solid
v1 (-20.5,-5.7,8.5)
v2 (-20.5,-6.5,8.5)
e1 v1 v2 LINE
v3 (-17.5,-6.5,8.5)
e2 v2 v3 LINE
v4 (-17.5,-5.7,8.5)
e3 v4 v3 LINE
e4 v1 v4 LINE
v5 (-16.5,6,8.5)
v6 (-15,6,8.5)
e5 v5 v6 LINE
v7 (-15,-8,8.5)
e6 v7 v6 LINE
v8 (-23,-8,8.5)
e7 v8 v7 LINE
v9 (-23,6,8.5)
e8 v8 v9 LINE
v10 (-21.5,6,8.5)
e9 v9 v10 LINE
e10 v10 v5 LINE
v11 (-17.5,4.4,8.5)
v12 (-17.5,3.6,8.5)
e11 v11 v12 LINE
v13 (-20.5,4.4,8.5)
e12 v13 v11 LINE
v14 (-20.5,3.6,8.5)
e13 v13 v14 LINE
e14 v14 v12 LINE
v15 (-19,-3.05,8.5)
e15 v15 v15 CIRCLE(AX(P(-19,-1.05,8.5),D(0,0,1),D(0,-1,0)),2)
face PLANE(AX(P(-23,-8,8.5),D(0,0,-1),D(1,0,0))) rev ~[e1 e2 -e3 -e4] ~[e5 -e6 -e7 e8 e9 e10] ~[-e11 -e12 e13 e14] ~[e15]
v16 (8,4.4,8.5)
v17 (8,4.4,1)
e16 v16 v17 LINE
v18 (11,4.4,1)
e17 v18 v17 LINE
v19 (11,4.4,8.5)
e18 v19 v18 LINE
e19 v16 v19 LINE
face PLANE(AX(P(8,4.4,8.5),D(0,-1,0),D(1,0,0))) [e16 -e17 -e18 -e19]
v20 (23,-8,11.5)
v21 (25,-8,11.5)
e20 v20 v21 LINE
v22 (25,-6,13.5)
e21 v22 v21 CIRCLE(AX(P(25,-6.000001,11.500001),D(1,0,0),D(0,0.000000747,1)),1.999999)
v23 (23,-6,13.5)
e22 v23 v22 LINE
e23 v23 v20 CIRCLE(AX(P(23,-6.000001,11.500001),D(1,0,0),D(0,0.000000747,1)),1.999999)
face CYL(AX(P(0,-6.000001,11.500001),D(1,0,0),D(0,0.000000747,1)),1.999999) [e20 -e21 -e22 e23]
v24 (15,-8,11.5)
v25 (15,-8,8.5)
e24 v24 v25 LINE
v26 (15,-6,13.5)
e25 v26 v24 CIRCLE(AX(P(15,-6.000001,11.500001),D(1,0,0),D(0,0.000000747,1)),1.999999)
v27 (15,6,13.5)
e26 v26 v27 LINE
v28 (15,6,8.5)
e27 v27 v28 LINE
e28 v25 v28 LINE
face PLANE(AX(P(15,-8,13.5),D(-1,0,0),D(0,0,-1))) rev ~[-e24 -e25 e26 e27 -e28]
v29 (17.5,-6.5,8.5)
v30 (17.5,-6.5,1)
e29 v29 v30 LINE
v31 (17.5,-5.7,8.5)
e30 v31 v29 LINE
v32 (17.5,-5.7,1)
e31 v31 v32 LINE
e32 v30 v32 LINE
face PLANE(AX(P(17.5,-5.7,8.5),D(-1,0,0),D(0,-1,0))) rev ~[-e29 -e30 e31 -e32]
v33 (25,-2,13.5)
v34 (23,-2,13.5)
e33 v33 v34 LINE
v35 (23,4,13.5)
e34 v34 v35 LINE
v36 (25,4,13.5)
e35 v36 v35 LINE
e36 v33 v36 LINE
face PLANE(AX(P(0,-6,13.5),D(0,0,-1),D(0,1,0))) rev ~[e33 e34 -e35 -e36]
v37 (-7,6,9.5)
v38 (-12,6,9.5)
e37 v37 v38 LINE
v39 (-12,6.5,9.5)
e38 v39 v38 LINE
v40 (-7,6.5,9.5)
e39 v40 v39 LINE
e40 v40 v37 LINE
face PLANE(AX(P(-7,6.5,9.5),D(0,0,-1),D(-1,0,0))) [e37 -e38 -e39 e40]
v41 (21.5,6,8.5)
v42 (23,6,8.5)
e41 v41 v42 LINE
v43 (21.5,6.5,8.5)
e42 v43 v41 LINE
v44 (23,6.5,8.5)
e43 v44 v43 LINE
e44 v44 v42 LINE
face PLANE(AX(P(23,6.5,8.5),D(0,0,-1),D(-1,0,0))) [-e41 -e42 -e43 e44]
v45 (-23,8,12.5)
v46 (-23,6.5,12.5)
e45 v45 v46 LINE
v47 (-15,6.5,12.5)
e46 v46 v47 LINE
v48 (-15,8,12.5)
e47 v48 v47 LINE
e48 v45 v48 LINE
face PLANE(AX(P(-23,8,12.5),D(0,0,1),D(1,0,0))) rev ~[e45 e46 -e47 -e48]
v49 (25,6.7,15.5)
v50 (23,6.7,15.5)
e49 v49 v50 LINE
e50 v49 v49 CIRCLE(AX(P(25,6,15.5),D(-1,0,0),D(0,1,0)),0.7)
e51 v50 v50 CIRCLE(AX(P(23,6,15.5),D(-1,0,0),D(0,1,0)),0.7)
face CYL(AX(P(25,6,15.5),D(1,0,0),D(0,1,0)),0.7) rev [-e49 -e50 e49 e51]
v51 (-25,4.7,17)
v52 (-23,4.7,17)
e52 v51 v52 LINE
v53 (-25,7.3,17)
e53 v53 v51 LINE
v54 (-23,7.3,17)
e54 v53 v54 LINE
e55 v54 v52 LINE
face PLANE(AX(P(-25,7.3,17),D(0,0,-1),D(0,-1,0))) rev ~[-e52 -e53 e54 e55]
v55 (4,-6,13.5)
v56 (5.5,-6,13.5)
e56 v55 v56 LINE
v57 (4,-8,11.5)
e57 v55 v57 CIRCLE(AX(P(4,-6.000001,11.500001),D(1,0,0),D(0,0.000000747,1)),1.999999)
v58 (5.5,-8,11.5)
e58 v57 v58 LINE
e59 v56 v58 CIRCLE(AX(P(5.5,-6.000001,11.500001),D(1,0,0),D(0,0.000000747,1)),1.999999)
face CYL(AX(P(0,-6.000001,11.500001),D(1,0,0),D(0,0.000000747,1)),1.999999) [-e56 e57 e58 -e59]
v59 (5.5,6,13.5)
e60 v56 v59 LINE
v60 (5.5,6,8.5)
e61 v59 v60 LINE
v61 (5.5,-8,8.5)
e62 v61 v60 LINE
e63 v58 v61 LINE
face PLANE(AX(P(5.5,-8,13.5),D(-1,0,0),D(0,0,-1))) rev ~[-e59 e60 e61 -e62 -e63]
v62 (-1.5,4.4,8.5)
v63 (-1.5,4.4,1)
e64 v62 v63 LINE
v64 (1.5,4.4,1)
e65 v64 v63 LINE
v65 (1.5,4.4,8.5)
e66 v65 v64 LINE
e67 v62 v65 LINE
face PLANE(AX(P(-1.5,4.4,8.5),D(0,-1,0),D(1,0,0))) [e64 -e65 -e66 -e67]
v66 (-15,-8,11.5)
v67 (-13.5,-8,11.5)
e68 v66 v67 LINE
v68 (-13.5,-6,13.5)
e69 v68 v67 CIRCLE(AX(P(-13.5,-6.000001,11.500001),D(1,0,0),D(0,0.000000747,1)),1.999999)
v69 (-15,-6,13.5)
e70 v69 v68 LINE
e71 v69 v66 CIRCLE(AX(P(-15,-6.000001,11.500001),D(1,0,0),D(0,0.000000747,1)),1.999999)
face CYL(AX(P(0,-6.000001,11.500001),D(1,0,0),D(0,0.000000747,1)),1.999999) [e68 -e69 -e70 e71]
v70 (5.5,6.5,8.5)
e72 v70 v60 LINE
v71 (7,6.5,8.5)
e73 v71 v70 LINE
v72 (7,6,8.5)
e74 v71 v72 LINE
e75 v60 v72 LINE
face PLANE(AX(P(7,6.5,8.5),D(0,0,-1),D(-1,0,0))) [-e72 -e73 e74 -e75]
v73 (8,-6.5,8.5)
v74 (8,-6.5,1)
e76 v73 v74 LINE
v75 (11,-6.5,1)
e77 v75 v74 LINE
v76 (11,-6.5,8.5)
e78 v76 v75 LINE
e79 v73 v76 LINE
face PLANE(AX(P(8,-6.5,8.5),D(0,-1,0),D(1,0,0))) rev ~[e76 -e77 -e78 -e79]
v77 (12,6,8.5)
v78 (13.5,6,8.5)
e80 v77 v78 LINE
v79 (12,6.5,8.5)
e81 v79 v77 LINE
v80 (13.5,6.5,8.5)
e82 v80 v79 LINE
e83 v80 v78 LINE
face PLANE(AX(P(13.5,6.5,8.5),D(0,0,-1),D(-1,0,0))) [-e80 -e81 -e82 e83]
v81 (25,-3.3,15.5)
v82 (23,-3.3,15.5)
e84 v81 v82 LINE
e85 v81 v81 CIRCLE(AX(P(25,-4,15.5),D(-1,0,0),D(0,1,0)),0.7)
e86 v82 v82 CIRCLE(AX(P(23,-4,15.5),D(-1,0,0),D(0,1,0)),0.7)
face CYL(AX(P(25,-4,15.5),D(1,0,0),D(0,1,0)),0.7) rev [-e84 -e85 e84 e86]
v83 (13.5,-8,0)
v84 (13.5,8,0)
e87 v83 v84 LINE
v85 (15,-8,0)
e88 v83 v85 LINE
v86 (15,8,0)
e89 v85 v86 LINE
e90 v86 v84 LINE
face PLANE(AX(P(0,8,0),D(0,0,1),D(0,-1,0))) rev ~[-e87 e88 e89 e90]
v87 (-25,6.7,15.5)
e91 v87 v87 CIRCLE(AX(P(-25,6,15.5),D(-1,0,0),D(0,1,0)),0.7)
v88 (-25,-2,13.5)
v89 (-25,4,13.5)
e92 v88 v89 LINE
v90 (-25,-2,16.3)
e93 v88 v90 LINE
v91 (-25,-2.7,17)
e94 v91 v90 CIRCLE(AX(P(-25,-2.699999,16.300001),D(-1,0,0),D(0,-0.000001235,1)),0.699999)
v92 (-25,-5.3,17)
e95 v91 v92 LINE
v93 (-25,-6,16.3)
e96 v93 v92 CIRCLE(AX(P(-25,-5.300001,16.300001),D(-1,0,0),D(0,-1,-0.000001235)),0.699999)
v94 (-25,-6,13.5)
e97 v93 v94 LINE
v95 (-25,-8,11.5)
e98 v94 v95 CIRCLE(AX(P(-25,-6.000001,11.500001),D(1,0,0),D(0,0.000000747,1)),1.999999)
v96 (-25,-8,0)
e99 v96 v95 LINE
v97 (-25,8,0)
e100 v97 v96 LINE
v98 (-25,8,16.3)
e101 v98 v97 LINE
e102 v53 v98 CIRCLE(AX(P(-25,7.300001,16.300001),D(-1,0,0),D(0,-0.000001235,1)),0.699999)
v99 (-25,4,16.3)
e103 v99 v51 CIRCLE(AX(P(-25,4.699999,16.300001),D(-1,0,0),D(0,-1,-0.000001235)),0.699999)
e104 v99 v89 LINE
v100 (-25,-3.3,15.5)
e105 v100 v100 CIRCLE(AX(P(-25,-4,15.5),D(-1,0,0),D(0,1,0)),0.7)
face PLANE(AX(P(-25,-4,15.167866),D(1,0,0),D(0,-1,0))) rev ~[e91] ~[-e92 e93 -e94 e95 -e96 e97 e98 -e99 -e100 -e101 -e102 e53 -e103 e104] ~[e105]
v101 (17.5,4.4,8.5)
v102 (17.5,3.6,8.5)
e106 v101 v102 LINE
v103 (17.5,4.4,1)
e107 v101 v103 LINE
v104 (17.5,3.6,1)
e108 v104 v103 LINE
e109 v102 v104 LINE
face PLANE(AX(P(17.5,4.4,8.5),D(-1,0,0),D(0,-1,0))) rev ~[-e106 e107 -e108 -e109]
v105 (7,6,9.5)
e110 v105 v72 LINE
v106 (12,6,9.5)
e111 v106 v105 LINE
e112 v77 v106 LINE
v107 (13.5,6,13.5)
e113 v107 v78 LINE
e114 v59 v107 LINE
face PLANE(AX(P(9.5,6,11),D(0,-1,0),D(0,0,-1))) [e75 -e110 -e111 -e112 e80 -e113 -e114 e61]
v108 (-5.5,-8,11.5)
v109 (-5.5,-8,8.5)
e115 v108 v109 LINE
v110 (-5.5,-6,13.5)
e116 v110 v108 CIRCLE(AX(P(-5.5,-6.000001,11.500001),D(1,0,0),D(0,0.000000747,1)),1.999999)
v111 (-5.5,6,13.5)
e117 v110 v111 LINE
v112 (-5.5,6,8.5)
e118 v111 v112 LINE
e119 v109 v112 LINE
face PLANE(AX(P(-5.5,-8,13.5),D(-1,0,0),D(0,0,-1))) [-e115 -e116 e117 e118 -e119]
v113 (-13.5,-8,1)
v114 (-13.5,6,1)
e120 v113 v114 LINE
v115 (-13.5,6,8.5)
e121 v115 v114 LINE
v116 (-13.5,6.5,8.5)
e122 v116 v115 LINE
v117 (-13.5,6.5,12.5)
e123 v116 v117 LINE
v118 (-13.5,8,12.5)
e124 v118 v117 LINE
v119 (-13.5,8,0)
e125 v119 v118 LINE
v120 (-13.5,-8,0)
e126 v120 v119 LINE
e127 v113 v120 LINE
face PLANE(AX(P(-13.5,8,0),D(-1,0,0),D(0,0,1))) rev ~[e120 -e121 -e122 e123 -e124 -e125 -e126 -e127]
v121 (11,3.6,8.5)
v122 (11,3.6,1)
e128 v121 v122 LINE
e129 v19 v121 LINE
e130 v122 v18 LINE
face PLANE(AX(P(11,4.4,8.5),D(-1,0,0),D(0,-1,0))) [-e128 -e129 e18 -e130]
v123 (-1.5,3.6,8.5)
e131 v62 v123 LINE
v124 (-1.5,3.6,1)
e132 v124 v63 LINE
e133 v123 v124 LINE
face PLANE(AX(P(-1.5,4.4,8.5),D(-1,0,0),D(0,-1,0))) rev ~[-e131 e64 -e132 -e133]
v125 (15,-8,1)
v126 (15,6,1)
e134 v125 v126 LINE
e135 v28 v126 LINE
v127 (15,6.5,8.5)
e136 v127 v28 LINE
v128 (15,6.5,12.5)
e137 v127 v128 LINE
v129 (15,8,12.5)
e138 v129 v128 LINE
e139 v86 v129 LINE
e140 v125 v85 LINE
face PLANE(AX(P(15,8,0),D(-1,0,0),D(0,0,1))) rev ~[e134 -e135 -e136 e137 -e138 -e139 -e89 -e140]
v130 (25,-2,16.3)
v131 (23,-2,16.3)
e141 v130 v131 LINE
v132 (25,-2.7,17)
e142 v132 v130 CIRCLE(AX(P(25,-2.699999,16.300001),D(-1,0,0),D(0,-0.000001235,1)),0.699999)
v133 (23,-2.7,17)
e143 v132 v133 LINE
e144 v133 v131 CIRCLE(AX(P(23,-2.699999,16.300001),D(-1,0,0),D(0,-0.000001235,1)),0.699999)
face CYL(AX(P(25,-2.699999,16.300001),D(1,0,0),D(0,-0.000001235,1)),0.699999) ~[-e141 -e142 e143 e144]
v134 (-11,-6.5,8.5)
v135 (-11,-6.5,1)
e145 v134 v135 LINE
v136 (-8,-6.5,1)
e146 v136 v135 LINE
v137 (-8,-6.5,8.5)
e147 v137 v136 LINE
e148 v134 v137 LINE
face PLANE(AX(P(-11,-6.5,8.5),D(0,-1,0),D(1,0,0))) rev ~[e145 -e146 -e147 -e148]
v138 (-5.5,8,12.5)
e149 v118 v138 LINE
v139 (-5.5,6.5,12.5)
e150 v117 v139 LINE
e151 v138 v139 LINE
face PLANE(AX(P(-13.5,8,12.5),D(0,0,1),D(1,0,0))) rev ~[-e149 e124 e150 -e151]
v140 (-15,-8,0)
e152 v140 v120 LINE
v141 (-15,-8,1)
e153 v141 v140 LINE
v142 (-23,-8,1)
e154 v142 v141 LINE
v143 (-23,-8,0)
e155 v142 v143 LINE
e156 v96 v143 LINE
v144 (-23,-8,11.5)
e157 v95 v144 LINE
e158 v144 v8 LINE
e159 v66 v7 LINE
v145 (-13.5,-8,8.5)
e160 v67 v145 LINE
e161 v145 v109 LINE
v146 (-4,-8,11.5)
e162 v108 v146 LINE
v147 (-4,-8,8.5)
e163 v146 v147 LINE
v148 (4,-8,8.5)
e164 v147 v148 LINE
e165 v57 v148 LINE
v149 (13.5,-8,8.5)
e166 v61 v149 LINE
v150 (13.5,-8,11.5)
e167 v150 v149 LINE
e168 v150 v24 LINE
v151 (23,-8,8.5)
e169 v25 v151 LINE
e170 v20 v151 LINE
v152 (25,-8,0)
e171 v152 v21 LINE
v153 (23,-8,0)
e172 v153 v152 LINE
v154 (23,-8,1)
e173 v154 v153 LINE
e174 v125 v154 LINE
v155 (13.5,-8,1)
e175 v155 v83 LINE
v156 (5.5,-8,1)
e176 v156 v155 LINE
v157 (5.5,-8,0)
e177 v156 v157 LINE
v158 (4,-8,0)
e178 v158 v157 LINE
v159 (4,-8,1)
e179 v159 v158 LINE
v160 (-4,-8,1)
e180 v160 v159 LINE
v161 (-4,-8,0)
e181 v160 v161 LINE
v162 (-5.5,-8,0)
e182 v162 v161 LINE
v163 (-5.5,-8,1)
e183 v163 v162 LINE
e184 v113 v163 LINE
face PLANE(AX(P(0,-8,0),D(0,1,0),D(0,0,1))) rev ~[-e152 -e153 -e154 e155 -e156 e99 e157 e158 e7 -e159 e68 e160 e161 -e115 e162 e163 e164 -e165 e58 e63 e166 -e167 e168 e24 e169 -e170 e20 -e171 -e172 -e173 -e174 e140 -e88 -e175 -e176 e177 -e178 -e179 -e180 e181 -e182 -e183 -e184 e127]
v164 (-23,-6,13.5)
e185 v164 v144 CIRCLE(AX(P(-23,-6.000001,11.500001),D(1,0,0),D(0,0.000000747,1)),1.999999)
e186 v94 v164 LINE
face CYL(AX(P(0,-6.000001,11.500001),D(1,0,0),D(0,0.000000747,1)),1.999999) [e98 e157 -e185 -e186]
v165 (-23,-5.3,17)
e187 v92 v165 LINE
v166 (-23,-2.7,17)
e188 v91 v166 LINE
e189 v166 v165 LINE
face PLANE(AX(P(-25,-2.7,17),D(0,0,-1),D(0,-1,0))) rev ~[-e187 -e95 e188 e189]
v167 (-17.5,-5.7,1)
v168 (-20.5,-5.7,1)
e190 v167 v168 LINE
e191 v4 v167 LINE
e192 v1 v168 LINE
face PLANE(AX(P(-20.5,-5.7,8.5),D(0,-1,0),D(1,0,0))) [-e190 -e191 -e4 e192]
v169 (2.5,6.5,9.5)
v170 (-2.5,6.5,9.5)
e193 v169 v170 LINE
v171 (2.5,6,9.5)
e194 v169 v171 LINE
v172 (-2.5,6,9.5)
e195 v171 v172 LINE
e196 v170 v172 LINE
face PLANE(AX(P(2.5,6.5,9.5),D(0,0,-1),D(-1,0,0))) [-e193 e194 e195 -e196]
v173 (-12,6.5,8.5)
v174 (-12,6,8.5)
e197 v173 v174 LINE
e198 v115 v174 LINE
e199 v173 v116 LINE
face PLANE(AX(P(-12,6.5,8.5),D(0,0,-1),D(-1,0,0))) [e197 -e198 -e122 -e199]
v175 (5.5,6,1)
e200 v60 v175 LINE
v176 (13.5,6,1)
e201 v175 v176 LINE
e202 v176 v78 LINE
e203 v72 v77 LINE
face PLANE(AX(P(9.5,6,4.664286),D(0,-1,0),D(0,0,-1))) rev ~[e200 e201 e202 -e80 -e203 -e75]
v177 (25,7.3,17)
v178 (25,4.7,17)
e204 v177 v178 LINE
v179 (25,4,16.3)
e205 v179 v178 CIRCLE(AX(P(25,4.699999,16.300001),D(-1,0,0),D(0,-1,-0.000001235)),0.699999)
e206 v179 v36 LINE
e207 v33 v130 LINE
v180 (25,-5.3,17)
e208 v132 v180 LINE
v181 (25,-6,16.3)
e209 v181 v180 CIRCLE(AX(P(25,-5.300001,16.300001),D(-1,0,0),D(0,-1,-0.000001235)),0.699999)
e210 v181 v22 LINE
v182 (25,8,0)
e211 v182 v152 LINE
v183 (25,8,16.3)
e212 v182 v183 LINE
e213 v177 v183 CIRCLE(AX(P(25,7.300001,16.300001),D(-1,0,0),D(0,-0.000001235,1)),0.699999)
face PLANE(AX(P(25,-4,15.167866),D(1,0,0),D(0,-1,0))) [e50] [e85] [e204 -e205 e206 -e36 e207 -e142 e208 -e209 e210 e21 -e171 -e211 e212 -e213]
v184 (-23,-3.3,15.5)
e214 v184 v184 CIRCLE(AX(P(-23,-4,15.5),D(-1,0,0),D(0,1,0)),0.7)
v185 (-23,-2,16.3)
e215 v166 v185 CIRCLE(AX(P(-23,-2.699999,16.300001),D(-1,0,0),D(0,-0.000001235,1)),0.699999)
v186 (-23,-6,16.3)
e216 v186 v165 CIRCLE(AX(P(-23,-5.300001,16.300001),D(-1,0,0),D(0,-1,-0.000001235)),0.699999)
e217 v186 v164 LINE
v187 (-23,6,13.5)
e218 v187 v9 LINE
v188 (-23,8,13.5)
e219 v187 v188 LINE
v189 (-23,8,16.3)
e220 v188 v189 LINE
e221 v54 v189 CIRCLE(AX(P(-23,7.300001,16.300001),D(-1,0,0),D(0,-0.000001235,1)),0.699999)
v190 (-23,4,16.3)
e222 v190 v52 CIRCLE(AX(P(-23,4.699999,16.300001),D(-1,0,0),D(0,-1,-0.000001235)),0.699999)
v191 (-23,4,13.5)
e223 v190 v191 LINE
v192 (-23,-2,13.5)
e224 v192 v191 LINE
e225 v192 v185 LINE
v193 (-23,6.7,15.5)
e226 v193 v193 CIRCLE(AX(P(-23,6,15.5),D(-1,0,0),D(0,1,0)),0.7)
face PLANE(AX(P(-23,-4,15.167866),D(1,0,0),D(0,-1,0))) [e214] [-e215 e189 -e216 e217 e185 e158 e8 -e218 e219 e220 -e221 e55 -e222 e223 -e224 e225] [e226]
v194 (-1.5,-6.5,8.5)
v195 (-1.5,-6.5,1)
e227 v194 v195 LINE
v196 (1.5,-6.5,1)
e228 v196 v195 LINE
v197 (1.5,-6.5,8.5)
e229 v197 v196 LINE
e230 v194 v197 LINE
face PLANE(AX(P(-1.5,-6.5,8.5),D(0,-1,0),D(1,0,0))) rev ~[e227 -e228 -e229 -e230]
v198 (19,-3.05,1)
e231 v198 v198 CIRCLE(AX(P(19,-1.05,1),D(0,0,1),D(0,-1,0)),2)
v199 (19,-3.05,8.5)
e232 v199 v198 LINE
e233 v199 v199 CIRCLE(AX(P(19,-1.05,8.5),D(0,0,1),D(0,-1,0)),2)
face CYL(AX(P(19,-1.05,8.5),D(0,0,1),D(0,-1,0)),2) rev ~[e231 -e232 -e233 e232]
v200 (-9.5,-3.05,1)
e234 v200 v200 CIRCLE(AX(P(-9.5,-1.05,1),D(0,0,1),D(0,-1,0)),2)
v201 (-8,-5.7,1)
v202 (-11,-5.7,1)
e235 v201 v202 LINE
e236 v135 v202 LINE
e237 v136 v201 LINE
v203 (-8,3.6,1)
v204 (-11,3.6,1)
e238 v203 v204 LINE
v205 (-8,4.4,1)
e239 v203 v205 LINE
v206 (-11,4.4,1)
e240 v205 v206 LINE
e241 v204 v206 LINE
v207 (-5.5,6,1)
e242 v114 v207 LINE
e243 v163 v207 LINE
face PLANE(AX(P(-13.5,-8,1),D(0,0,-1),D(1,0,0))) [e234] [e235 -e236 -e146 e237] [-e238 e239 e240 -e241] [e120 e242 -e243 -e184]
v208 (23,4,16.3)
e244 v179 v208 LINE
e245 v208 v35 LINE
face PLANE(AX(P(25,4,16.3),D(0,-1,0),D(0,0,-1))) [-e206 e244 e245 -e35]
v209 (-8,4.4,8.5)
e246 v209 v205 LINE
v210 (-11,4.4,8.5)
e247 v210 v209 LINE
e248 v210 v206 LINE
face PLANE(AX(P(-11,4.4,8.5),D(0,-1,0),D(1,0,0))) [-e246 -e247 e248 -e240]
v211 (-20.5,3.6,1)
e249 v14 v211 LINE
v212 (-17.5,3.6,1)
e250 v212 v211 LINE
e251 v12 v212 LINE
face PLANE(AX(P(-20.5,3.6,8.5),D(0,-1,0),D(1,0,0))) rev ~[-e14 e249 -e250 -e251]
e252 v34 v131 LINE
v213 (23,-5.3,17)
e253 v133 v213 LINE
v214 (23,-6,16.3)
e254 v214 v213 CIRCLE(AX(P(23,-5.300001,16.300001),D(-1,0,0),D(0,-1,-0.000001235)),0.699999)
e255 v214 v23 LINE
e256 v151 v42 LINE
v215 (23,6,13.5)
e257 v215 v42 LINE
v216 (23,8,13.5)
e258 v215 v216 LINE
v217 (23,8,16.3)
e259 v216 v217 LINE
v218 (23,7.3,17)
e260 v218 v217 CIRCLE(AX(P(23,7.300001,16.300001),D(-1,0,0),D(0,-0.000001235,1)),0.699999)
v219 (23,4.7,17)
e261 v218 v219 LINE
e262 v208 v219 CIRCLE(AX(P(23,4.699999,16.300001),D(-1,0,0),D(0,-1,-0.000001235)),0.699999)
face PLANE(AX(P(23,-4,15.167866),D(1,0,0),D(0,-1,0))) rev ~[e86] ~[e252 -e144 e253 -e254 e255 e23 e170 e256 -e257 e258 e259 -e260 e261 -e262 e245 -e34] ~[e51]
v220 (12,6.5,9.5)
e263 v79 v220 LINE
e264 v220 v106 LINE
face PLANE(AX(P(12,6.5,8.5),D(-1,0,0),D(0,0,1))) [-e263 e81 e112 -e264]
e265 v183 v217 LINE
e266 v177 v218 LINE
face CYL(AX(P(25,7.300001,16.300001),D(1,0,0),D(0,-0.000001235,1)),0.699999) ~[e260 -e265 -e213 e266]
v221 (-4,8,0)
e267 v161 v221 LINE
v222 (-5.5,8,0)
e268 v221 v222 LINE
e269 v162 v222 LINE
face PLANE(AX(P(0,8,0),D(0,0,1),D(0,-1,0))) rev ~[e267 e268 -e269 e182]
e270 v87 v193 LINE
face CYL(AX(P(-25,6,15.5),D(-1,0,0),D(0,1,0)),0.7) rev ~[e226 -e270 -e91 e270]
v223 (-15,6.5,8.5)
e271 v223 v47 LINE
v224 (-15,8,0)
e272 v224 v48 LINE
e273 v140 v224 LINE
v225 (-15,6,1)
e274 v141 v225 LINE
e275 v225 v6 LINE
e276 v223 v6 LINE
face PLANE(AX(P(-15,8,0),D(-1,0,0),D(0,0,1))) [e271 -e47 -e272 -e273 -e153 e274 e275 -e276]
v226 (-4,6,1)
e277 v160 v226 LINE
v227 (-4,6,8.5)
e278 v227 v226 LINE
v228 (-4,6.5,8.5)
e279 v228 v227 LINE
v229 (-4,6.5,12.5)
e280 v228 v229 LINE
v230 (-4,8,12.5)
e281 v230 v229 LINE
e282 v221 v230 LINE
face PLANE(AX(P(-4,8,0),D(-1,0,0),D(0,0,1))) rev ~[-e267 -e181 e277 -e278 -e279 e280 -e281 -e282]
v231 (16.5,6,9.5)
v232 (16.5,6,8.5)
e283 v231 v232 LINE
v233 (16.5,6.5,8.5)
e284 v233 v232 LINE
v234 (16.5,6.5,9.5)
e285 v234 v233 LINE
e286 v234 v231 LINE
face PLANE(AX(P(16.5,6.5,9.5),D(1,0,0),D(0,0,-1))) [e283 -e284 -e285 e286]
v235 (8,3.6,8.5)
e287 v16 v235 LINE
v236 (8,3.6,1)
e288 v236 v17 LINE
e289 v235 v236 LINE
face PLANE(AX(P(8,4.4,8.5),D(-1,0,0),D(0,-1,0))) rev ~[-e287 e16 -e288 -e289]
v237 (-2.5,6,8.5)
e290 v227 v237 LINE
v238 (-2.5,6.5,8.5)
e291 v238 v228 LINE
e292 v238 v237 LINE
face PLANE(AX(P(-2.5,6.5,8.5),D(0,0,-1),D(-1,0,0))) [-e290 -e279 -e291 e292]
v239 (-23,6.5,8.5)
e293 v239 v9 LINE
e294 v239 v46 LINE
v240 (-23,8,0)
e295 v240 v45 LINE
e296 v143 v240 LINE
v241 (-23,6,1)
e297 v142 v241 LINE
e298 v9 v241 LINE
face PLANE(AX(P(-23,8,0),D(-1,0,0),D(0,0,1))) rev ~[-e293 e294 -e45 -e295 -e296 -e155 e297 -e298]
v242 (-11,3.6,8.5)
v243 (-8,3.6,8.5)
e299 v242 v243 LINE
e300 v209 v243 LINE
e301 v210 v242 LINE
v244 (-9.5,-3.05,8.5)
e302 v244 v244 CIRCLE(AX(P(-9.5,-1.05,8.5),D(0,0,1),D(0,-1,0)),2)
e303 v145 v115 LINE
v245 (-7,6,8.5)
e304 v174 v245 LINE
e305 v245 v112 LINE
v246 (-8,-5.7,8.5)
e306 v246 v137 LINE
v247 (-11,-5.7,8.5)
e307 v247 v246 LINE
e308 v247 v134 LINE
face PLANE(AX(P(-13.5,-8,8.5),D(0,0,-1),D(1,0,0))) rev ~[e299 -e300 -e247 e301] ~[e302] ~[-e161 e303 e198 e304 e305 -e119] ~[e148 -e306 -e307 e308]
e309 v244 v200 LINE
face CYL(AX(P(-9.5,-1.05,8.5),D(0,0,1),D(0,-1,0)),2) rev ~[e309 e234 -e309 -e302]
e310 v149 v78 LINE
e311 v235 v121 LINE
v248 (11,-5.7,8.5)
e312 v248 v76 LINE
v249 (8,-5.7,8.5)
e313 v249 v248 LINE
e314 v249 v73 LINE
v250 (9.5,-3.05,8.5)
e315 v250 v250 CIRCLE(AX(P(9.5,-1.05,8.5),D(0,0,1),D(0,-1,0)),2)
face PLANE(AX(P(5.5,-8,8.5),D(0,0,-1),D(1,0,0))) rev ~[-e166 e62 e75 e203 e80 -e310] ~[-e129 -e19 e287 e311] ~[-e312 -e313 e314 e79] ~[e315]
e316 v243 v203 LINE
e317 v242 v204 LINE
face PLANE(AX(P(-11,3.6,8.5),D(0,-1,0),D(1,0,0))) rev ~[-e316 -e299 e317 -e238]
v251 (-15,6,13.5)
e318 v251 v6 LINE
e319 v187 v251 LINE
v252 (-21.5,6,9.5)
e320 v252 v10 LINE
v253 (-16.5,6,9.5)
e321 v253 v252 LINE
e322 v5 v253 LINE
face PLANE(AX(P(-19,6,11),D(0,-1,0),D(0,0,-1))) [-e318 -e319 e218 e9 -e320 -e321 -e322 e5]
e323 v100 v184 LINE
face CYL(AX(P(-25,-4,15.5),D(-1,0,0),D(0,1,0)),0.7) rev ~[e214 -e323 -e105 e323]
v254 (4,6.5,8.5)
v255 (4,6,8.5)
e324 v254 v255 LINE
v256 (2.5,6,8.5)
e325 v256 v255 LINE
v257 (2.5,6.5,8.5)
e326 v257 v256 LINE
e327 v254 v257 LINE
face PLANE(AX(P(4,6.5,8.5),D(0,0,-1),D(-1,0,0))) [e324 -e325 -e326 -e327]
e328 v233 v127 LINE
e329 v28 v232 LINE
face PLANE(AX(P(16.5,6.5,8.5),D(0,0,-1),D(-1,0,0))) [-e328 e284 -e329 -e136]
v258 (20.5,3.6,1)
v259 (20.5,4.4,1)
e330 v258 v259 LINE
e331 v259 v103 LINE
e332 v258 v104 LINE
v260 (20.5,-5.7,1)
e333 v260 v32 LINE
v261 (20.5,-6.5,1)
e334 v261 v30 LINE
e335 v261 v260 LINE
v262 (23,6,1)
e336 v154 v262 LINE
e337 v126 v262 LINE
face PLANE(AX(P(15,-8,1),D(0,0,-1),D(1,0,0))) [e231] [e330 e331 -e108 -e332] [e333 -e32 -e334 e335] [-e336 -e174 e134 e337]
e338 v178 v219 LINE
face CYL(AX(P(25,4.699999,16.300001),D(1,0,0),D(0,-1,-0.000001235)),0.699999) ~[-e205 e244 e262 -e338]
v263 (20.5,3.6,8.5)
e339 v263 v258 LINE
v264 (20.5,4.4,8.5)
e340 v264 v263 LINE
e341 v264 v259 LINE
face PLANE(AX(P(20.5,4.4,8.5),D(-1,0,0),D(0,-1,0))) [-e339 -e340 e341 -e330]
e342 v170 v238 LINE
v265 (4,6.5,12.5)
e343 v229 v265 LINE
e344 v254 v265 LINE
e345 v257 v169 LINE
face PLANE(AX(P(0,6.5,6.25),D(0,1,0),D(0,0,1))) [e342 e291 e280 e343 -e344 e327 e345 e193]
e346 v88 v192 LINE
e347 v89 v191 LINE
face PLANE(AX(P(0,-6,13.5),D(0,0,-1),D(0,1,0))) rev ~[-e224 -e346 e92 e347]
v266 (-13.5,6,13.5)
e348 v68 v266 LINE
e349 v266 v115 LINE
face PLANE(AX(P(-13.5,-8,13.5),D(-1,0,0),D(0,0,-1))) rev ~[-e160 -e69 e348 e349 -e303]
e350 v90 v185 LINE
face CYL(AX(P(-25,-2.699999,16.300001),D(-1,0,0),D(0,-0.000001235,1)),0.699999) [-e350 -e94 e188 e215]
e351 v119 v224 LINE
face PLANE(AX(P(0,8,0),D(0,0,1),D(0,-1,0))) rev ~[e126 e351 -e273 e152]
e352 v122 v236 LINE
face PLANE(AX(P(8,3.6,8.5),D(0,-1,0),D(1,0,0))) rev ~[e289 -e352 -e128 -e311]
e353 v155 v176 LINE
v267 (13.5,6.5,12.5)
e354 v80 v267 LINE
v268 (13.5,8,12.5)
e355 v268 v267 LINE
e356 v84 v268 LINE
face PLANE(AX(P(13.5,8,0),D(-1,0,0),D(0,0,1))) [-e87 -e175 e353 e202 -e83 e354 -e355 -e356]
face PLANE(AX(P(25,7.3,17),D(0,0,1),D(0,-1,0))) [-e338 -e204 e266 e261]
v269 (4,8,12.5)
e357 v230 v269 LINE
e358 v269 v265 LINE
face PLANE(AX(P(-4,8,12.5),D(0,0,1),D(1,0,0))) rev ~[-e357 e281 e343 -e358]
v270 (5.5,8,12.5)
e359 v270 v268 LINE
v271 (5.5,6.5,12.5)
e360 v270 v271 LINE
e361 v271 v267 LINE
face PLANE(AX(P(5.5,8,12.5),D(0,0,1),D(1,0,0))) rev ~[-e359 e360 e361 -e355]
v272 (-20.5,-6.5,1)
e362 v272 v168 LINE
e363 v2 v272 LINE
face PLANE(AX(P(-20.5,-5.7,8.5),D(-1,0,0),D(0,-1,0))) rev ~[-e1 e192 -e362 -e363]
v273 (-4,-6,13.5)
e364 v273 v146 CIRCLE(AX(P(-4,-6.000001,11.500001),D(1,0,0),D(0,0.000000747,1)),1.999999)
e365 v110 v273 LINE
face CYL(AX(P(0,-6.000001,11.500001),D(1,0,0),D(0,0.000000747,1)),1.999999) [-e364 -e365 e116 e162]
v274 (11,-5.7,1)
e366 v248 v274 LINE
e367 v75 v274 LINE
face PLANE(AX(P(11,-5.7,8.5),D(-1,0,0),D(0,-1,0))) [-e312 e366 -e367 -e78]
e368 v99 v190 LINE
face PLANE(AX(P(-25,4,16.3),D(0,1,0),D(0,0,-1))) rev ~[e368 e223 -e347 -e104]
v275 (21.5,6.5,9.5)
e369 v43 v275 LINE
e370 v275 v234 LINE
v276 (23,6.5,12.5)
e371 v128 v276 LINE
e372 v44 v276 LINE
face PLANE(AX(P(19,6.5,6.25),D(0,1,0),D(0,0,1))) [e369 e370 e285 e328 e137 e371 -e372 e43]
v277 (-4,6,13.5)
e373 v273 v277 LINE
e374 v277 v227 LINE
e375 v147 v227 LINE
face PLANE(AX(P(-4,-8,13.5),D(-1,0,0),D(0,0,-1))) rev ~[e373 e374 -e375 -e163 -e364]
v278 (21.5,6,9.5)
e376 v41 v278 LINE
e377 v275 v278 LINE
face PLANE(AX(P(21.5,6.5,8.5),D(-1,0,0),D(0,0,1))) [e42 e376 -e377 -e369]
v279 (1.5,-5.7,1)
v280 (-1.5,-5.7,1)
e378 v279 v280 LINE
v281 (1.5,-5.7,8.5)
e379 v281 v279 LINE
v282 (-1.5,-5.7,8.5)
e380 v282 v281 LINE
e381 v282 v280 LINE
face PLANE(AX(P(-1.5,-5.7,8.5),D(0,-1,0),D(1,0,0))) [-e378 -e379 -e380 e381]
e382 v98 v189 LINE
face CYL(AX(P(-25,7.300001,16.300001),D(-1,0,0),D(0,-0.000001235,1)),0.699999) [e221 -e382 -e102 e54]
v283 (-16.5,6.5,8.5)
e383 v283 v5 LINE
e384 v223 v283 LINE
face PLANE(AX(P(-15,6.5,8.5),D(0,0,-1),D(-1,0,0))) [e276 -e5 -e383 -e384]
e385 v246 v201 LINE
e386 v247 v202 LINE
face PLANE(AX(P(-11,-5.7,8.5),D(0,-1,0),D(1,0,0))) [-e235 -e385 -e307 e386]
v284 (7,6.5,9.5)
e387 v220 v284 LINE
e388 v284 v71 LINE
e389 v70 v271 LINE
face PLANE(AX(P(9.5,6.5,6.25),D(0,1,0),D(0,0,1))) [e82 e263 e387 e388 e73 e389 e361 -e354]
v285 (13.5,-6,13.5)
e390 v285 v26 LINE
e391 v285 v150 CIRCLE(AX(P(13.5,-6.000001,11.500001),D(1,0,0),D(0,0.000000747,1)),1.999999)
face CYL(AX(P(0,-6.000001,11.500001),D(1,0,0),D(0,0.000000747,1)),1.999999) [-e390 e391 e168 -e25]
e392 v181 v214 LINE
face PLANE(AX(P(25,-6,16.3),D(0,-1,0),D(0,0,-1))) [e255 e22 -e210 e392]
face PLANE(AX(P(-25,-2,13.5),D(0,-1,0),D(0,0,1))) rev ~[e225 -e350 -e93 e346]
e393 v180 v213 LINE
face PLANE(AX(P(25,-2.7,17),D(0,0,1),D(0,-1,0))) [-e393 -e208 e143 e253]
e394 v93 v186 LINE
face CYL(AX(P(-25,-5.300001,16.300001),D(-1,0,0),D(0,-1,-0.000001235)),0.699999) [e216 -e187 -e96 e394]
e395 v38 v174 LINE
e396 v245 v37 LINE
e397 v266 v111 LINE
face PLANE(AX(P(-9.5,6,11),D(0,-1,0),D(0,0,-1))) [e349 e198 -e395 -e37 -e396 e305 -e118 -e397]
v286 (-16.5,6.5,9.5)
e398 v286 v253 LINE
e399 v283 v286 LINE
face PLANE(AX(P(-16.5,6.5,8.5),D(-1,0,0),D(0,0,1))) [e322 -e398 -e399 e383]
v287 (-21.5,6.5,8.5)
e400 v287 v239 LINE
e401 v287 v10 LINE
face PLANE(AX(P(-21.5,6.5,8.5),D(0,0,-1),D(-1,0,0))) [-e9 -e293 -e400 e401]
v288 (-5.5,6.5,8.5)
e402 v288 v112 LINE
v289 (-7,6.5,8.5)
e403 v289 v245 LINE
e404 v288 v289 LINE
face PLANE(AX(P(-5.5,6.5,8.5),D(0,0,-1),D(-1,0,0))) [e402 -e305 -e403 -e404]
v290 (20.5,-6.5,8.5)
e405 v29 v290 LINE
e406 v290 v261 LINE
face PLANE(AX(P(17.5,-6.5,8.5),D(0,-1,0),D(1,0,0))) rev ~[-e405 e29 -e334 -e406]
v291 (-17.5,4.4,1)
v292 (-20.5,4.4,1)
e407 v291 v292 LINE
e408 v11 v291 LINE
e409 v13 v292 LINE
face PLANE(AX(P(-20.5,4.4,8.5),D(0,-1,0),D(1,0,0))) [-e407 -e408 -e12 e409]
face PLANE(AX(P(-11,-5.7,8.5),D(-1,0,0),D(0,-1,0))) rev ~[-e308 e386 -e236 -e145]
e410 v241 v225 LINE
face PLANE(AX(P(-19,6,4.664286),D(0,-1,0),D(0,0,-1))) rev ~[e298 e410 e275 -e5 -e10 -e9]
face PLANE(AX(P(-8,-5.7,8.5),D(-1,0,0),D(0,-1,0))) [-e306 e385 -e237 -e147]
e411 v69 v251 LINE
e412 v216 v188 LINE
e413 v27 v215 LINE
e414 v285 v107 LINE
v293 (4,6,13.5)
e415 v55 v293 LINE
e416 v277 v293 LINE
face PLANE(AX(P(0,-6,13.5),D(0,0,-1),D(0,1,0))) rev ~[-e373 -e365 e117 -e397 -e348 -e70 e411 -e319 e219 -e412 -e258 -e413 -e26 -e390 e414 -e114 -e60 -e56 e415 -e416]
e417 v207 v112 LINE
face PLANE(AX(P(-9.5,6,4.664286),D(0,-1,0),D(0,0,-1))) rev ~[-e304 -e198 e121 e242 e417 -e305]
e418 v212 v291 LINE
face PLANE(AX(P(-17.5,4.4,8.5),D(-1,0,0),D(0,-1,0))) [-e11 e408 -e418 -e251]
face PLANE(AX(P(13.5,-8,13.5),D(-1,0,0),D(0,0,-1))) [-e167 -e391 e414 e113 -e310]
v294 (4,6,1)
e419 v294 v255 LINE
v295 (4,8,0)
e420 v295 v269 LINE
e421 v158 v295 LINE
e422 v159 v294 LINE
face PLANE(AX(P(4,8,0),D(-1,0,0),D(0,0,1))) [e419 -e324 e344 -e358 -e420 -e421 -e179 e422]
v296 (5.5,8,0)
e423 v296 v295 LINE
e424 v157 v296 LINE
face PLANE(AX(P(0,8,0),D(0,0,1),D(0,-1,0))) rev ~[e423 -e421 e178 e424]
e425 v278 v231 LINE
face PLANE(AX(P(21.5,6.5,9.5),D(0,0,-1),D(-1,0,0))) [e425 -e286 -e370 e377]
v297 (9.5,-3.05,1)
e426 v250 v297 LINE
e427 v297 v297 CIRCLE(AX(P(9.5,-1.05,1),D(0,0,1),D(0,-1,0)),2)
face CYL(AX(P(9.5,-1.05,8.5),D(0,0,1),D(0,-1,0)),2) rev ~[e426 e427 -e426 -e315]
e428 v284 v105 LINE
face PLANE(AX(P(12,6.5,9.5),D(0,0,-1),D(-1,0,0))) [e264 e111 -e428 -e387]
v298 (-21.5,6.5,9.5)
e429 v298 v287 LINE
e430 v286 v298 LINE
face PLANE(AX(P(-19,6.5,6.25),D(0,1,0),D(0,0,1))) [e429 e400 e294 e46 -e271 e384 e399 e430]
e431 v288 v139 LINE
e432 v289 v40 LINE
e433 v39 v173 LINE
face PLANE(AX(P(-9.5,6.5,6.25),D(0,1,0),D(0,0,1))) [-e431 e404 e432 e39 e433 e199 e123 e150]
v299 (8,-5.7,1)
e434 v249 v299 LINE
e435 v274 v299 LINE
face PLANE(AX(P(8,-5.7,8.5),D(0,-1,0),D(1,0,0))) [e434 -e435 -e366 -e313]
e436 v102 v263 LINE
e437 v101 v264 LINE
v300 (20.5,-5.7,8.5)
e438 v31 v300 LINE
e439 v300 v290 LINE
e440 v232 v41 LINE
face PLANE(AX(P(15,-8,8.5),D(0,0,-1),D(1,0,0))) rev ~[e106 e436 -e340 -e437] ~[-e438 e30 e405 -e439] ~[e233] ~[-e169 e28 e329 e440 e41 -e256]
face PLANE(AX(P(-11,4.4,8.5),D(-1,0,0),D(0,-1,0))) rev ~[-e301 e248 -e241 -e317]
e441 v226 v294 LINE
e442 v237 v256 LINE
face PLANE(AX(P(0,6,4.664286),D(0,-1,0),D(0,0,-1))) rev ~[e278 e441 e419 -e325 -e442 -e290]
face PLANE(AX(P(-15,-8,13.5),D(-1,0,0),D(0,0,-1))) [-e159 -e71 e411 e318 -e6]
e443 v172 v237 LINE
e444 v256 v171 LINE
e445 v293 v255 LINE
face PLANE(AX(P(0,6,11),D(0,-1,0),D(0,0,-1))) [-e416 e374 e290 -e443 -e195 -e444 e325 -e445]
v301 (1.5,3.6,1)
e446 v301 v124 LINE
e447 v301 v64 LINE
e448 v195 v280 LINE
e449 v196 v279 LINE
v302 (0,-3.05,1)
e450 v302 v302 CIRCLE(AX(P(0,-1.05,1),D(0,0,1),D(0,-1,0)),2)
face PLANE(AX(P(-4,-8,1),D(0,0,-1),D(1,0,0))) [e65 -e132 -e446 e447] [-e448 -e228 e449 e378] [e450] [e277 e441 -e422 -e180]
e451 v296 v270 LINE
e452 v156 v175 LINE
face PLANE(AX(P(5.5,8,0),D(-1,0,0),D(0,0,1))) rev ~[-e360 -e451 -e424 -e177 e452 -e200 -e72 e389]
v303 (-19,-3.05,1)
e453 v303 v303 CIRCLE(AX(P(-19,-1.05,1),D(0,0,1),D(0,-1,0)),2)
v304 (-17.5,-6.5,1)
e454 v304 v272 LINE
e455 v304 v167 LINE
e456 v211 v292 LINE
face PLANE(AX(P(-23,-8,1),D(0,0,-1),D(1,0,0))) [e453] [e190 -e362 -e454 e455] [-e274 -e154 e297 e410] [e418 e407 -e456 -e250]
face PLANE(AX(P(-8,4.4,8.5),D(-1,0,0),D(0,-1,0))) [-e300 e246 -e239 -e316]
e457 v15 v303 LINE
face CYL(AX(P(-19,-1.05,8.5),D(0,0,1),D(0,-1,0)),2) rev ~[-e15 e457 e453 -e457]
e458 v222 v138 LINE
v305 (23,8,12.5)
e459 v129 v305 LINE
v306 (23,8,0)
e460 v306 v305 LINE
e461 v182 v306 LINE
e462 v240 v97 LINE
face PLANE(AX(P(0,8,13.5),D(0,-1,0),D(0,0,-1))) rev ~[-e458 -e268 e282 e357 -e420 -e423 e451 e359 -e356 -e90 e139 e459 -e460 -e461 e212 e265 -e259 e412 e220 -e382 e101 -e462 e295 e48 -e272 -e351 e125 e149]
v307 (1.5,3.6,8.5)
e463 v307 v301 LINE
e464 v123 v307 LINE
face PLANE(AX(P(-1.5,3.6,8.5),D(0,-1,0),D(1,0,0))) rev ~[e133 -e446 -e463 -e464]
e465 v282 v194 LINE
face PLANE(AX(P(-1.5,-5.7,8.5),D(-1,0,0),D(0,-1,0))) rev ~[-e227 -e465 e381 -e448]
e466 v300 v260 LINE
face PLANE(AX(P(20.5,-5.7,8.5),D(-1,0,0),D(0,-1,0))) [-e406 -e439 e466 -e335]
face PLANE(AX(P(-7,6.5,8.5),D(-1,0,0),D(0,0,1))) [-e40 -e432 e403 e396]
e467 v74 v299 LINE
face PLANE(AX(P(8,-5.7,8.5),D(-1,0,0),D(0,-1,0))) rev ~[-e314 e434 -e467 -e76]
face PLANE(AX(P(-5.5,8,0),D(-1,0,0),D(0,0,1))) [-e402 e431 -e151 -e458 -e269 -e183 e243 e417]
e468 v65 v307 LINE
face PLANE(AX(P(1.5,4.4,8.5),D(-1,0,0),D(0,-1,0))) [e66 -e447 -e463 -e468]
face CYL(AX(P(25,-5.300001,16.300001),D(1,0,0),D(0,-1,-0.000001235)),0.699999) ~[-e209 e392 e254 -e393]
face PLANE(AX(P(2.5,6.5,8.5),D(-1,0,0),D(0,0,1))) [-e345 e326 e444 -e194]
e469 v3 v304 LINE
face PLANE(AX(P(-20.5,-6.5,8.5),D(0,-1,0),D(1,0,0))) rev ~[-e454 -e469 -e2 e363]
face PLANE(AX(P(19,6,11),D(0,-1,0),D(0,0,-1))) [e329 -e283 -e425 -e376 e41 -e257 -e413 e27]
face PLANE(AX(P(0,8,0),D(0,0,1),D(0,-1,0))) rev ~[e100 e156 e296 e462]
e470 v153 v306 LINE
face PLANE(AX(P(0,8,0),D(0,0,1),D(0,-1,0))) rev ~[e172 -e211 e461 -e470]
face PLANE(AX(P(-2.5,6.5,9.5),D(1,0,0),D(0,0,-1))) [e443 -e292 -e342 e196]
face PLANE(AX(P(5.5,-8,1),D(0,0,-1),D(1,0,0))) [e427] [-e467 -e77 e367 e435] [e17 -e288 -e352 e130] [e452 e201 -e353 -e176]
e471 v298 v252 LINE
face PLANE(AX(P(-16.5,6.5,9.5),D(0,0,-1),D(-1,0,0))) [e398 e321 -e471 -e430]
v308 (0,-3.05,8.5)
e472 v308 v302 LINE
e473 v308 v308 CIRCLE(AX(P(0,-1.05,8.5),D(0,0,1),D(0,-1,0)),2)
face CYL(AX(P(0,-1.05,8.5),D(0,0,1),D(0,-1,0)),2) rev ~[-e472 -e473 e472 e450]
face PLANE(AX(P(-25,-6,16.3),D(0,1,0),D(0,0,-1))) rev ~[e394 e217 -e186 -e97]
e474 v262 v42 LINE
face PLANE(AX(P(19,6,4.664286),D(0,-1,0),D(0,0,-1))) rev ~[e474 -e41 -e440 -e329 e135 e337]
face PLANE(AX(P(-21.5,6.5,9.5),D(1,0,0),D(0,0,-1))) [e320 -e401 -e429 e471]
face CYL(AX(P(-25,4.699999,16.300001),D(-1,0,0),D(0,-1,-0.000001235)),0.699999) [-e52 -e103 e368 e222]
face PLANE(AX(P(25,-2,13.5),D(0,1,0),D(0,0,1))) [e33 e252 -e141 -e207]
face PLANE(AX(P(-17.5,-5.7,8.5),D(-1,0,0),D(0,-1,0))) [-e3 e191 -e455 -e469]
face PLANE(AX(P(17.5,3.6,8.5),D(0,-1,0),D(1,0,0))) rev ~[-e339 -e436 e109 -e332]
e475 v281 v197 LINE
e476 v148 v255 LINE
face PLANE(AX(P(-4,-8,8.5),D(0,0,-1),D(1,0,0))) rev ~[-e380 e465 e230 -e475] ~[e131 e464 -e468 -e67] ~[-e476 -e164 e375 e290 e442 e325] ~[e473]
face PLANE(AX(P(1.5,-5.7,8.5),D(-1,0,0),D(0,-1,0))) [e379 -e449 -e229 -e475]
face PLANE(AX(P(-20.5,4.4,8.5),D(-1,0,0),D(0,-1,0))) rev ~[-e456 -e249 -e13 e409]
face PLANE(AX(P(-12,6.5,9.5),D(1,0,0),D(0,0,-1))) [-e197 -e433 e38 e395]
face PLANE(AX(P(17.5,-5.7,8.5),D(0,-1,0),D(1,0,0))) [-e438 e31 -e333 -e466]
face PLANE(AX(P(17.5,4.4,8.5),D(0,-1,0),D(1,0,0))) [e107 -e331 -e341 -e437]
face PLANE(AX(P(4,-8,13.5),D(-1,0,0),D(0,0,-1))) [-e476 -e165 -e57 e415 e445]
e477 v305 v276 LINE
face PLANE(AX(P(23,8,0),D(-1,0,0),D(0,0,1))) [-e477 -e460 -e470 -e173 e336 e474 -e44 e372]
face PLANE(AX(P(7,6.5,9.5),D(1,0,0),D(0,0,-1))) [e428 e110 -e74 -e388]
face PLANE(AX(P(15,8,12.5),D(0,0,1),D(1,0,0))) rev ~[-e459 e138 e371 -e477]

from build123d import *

# Parameters (mm, degrees)
PAD_DEPTH       = 25
SKETCH001_W     = 1
SKETCH001_H     = 8
SKETCH001_W_2   = 5
POCKET_DEPTH    = 14
SKETCH002_W     = 12.5
SKETCH002_H     = 8
POCKET001_DEPTH = 1.5
POCKET002_DEPTH = 0.5
SKETCH004_R     = 2
SKETCH004_W     = 0.8
SKETCH004_H     = 3
POCKET003_DEPTH = 8
SKETCH005_R     = 0.7
PAD001_DEPTH    = 2
SKETCH006_R     = 0.7
PAD002_DEPTH    = 2


with BuildPart() as part:
    # Sketch → Pad (new body, symmetric)
    with BuildSketch(Plane.YZ):
        with BuildLine():
            Line((-6, 13.5), (8, 13.5))
            Line((8, 13.5), (8, 0))
            Line((8, 0), (-8, 0))
            Line((-8, 0), (-8, 11.5))
            ThreePointArc((-6, 13.5), (-7.414214, 12.914214), (-8, 11.5))
        make_face()
    extrude(amount=PAD_DEPTH, both=True)

    # Sketch001 (on Face4 of Pad) → Pocket (cut)
    with BuildSketch(Plane(origin=(0, -8, 0), x_dir=(0, 0, -1), z_dir=(0, -1, 0))):
        with Locations((-0.5, -19)):
            Rectangle(SKETCH001_W, SKETCH001_H)
        with Locations((-0.5, -9.5)):
            Rectangle(SKETCH001_W, SKETCH001_H)
        with Locations((-0.5, 0)):
            Rectangle(SKETCH001_W, SKETCH001_H)
        with Locations((-0.5, 9.5)):
            Rectangle(SKETCH001_W, SKETCH001_H)
        with Locations((-0.5, 19)):
            Rectangle(SKETCH001_W, SKETCH001_H)
        with Locations((-11, -19)):
            Rectangle(SKETCH001_W_2, SKETCH001_H)
        with Locations((-11, -9.5)):
            Rectangle(SKETCH001_W_2, SKETCH001_H)
        with Locations((-11, 0)):
            Rectangle(SKETCH001_W_2, SKETCH001_H)
        with Locations((-11, 9.5)):
            Rectangle(SKETCH001_W_2, SKETCH001_H)
        with Locations((-11, 19)):
            Rectangle(SKETCH001_W_2, SKETCH001_H)
    extrude(amount=-POCKET_DEPTH, mode=Mode.SUBTRACT)

    # Sketch002 (on Face3 of Pocket) → Pocket001 (cut)
    with BuildSketch(Plane.ZX.offset(8)):
        with Locations((6.25, 19)):
            Rectangle(SKETCH002_W, SKETCH002_H)
        with Locations((6.25, 9.5)):
            Rectangle(SKETCH002_W, SKETCH002_H)
        with Locations((6.25, 0)):
            Rectangle(SKETCH002_W, SKETCH002_H)
        with Locations((6.25, -9.5)):
            Rectangle(SKETCH002_W, SKETCH002_H)
        with Locations((6.25, -19)):
            Rectangle(SKETCH002_W, SKETCH002_H)
    extrude(amount=-POCKET001_DEPTH, mode=Mode.SUBTRACT)

    # Sketch003 (on Face67 of Pocket001) → Pocket002 (cut)
    with BuildSketch(Plane.ZX.offset(6.5)):
        Polygon((0, 23), (8.5, 23), (8.5, 21.5), (9.5, 21.5), (9.5, 16.5), (8.5, 16.5), (8.5, 15), (0, 15), align=None)
        Polygon((0, 13.5), (8.5, 13.5), (8.5, 12), (9.5, 12), (9.5, 7), (8.5, 7), (8.5, 5.5), (0, 5.5), align=None)
        Polygon((0, 4), (8.5, 4), (8.5, 2.5), (9.5, 2.5), (9.5, -2.5), (8.5, -2.5), (8.5, -4), (0, -4), align=None)
        Polygon((0, -5.5), (8.5, -5.5), (8.5, -7), (9.5, -7), (9.5, -12), (8.5, -12), (8.5, -13.5), (0, -13.5), align=None)
        Polygon((0, -15), (8.5, -15), (8.5, -16.5), (9.5, -16.5), (9.5, -21.5), (8.5, -21.5), (8.5, -23), (0, -23), align=None)
    extrude(amount=-POCKET002_DEPTH, mode=Mode.SUBTRACT)

    # Sketch004 (on Face64 of Pocket002) → Pocket003 (cut)
    with BuildSketch(Plane(origin=(0, 0, 8.5), x_dir=(0, -1, 0), z_dir=(0, 0, 1))):
        with Locations((1.05, -19)):
            Circle(SKETCH004_R)
        with Locations((1.05, -9.5)):
            Circle(SKETCH004_R)
        with Locations((1.05, 0)):
            Circle(SKETCH004_R)
        with Locations((1.05, 9.5)):
            Circle(SKETCH004_R)
        with Locations((1.05, 19)):
            Circle(SKETCH004_R)
        with Locations((-4, -19)):
            Rectangle(SKETCH004_W, SKETCH004_H)
        with Locations((-4, -9.5)):
            Rectangle(SKETCH004_W, SKETCH004_H)
        with Locations((-4, 0)):
            Rectangle(SKETCH004_W, SKETCH004_H)
        with Locations((-4, 9.5)):
            Rectangle(SKETCH004_W, SKETCH004_H)
        with Locations((-4, 19)):
            Rectangle(SKETCH004_W, SKETCH004_H)
        with Locations((6.1, -19)):
            Rectangle(SKETCH004_W, SKETCH004_H)
        with Locations((6.1, -9.5)):
            Rectangle(SKETCH004_W, SKETCH004_H)
        with Locations((6.1, 0)):
            Rectangle(SKETCH004_W, SKETCH004_H)
        with Locations((6.1, 9.5)):
            Rectangle(SKETCH004_W, SKETCH004_H)
        with Locations((6.1, 19)):
            Rectangle(SKETCH004_W, SKETCH004_H)
    extrude(amount=-POCKET003_DEPTH, mode=Mode.SUBTRACT)

    # Sketch005 (on Face2 of Pocket003) → Pad001 (join)
    with BuildSketch(Plane(origin=(-25, 0, 0), x_dir=(0, 1, 0), z_dir=(-1, 0, 0))):
        with BuildLine():
            Line((-6, -13.5), (-2, -13.5))
            Line((-2, -13.5), (-2, -16.3))
            ThreePointArc((-2.7, -17), (-2.205025, -16.794975), (-2, -16.3))
            Line((-2.7, -17), (-5.3, -17))
            ThreePointArc((-6, -16.3), (-5.794975, -16.794975), (-5.3, -17))
            Line((-6, -16.3), (-6, -13.5))
        make_face()
        with Locations((-4, -15.5)):
            Circle(SKETCH005_R, mode=Mode.SUBTRACT)
        with BuildLine():
            Line((4, -13.5), (8, -13.5))
            Line((8, -13.5), (8, -16.3))
            ThreePointArc((7.3, -17), (7.794975, -16.794975), (8, -16.3))
            Line((7.3, -17), (4.7, -17))
            ThreePointArc((4, -16.3), (4.205025, -16.794975), (4.7, -17))
            Line((4, -16.3), (4, -13.5))
        make_face()
        with Locations((6, -15.5)):
            Circle(SKETCH005_R, mode=Mode.SUBTRACT)
    extrude(amount=-PAD001_DEPTH)

    # Sketch006 (on Face4 of Pocket003) → Pad002 (join)
    with BuildSketch(Plane(origin=(25, 0, 0), x_dir=(0, 1, 0), z_dir=(-1, 0, 0))):
        with BuildLine():
            Line((-6, -13.5), (-2, -13.5))
            Line((-2, -13.5), (-2, -16.3))
            ThreePointArc((-2.7, -17), (-2.205025, -16.794975), (-2, -16.3))
            Line((-2.7, -17), (-5.3, -17))
            ThreePointArc((-6, -16.3), (-5.794975, -16.794975), (-5.3, -17))
            Line((-6, -16.3), (-6, -13.5))
        make_face()
        with Locations((-4, -15.5)):
            Circle(SKETCH006_R, mode=Mode.SUBTRACT)
        with BuildLine():
            Line((4, -13.5), (8, -13.5))
            Line((8, -13.5), (8, -16.3))
            ThreePointArc((7.3, -17), (7.794975, -16.794975), (8, -16.3))
            Line((7.3, -17), (4.7, -17))
            ThreePointArc((4, -16.3), (4.205025, -16.794975), (4.7, -17))
            Line((4, -16.3), (4, -13.5))
        make_face()
        with Locations((6, -15.5)):
            Circle(SKETCH006_R, mode=Mode.SUBTRACT)
    extrude(amount=PAD002_DEPTH)


solid = part.part
